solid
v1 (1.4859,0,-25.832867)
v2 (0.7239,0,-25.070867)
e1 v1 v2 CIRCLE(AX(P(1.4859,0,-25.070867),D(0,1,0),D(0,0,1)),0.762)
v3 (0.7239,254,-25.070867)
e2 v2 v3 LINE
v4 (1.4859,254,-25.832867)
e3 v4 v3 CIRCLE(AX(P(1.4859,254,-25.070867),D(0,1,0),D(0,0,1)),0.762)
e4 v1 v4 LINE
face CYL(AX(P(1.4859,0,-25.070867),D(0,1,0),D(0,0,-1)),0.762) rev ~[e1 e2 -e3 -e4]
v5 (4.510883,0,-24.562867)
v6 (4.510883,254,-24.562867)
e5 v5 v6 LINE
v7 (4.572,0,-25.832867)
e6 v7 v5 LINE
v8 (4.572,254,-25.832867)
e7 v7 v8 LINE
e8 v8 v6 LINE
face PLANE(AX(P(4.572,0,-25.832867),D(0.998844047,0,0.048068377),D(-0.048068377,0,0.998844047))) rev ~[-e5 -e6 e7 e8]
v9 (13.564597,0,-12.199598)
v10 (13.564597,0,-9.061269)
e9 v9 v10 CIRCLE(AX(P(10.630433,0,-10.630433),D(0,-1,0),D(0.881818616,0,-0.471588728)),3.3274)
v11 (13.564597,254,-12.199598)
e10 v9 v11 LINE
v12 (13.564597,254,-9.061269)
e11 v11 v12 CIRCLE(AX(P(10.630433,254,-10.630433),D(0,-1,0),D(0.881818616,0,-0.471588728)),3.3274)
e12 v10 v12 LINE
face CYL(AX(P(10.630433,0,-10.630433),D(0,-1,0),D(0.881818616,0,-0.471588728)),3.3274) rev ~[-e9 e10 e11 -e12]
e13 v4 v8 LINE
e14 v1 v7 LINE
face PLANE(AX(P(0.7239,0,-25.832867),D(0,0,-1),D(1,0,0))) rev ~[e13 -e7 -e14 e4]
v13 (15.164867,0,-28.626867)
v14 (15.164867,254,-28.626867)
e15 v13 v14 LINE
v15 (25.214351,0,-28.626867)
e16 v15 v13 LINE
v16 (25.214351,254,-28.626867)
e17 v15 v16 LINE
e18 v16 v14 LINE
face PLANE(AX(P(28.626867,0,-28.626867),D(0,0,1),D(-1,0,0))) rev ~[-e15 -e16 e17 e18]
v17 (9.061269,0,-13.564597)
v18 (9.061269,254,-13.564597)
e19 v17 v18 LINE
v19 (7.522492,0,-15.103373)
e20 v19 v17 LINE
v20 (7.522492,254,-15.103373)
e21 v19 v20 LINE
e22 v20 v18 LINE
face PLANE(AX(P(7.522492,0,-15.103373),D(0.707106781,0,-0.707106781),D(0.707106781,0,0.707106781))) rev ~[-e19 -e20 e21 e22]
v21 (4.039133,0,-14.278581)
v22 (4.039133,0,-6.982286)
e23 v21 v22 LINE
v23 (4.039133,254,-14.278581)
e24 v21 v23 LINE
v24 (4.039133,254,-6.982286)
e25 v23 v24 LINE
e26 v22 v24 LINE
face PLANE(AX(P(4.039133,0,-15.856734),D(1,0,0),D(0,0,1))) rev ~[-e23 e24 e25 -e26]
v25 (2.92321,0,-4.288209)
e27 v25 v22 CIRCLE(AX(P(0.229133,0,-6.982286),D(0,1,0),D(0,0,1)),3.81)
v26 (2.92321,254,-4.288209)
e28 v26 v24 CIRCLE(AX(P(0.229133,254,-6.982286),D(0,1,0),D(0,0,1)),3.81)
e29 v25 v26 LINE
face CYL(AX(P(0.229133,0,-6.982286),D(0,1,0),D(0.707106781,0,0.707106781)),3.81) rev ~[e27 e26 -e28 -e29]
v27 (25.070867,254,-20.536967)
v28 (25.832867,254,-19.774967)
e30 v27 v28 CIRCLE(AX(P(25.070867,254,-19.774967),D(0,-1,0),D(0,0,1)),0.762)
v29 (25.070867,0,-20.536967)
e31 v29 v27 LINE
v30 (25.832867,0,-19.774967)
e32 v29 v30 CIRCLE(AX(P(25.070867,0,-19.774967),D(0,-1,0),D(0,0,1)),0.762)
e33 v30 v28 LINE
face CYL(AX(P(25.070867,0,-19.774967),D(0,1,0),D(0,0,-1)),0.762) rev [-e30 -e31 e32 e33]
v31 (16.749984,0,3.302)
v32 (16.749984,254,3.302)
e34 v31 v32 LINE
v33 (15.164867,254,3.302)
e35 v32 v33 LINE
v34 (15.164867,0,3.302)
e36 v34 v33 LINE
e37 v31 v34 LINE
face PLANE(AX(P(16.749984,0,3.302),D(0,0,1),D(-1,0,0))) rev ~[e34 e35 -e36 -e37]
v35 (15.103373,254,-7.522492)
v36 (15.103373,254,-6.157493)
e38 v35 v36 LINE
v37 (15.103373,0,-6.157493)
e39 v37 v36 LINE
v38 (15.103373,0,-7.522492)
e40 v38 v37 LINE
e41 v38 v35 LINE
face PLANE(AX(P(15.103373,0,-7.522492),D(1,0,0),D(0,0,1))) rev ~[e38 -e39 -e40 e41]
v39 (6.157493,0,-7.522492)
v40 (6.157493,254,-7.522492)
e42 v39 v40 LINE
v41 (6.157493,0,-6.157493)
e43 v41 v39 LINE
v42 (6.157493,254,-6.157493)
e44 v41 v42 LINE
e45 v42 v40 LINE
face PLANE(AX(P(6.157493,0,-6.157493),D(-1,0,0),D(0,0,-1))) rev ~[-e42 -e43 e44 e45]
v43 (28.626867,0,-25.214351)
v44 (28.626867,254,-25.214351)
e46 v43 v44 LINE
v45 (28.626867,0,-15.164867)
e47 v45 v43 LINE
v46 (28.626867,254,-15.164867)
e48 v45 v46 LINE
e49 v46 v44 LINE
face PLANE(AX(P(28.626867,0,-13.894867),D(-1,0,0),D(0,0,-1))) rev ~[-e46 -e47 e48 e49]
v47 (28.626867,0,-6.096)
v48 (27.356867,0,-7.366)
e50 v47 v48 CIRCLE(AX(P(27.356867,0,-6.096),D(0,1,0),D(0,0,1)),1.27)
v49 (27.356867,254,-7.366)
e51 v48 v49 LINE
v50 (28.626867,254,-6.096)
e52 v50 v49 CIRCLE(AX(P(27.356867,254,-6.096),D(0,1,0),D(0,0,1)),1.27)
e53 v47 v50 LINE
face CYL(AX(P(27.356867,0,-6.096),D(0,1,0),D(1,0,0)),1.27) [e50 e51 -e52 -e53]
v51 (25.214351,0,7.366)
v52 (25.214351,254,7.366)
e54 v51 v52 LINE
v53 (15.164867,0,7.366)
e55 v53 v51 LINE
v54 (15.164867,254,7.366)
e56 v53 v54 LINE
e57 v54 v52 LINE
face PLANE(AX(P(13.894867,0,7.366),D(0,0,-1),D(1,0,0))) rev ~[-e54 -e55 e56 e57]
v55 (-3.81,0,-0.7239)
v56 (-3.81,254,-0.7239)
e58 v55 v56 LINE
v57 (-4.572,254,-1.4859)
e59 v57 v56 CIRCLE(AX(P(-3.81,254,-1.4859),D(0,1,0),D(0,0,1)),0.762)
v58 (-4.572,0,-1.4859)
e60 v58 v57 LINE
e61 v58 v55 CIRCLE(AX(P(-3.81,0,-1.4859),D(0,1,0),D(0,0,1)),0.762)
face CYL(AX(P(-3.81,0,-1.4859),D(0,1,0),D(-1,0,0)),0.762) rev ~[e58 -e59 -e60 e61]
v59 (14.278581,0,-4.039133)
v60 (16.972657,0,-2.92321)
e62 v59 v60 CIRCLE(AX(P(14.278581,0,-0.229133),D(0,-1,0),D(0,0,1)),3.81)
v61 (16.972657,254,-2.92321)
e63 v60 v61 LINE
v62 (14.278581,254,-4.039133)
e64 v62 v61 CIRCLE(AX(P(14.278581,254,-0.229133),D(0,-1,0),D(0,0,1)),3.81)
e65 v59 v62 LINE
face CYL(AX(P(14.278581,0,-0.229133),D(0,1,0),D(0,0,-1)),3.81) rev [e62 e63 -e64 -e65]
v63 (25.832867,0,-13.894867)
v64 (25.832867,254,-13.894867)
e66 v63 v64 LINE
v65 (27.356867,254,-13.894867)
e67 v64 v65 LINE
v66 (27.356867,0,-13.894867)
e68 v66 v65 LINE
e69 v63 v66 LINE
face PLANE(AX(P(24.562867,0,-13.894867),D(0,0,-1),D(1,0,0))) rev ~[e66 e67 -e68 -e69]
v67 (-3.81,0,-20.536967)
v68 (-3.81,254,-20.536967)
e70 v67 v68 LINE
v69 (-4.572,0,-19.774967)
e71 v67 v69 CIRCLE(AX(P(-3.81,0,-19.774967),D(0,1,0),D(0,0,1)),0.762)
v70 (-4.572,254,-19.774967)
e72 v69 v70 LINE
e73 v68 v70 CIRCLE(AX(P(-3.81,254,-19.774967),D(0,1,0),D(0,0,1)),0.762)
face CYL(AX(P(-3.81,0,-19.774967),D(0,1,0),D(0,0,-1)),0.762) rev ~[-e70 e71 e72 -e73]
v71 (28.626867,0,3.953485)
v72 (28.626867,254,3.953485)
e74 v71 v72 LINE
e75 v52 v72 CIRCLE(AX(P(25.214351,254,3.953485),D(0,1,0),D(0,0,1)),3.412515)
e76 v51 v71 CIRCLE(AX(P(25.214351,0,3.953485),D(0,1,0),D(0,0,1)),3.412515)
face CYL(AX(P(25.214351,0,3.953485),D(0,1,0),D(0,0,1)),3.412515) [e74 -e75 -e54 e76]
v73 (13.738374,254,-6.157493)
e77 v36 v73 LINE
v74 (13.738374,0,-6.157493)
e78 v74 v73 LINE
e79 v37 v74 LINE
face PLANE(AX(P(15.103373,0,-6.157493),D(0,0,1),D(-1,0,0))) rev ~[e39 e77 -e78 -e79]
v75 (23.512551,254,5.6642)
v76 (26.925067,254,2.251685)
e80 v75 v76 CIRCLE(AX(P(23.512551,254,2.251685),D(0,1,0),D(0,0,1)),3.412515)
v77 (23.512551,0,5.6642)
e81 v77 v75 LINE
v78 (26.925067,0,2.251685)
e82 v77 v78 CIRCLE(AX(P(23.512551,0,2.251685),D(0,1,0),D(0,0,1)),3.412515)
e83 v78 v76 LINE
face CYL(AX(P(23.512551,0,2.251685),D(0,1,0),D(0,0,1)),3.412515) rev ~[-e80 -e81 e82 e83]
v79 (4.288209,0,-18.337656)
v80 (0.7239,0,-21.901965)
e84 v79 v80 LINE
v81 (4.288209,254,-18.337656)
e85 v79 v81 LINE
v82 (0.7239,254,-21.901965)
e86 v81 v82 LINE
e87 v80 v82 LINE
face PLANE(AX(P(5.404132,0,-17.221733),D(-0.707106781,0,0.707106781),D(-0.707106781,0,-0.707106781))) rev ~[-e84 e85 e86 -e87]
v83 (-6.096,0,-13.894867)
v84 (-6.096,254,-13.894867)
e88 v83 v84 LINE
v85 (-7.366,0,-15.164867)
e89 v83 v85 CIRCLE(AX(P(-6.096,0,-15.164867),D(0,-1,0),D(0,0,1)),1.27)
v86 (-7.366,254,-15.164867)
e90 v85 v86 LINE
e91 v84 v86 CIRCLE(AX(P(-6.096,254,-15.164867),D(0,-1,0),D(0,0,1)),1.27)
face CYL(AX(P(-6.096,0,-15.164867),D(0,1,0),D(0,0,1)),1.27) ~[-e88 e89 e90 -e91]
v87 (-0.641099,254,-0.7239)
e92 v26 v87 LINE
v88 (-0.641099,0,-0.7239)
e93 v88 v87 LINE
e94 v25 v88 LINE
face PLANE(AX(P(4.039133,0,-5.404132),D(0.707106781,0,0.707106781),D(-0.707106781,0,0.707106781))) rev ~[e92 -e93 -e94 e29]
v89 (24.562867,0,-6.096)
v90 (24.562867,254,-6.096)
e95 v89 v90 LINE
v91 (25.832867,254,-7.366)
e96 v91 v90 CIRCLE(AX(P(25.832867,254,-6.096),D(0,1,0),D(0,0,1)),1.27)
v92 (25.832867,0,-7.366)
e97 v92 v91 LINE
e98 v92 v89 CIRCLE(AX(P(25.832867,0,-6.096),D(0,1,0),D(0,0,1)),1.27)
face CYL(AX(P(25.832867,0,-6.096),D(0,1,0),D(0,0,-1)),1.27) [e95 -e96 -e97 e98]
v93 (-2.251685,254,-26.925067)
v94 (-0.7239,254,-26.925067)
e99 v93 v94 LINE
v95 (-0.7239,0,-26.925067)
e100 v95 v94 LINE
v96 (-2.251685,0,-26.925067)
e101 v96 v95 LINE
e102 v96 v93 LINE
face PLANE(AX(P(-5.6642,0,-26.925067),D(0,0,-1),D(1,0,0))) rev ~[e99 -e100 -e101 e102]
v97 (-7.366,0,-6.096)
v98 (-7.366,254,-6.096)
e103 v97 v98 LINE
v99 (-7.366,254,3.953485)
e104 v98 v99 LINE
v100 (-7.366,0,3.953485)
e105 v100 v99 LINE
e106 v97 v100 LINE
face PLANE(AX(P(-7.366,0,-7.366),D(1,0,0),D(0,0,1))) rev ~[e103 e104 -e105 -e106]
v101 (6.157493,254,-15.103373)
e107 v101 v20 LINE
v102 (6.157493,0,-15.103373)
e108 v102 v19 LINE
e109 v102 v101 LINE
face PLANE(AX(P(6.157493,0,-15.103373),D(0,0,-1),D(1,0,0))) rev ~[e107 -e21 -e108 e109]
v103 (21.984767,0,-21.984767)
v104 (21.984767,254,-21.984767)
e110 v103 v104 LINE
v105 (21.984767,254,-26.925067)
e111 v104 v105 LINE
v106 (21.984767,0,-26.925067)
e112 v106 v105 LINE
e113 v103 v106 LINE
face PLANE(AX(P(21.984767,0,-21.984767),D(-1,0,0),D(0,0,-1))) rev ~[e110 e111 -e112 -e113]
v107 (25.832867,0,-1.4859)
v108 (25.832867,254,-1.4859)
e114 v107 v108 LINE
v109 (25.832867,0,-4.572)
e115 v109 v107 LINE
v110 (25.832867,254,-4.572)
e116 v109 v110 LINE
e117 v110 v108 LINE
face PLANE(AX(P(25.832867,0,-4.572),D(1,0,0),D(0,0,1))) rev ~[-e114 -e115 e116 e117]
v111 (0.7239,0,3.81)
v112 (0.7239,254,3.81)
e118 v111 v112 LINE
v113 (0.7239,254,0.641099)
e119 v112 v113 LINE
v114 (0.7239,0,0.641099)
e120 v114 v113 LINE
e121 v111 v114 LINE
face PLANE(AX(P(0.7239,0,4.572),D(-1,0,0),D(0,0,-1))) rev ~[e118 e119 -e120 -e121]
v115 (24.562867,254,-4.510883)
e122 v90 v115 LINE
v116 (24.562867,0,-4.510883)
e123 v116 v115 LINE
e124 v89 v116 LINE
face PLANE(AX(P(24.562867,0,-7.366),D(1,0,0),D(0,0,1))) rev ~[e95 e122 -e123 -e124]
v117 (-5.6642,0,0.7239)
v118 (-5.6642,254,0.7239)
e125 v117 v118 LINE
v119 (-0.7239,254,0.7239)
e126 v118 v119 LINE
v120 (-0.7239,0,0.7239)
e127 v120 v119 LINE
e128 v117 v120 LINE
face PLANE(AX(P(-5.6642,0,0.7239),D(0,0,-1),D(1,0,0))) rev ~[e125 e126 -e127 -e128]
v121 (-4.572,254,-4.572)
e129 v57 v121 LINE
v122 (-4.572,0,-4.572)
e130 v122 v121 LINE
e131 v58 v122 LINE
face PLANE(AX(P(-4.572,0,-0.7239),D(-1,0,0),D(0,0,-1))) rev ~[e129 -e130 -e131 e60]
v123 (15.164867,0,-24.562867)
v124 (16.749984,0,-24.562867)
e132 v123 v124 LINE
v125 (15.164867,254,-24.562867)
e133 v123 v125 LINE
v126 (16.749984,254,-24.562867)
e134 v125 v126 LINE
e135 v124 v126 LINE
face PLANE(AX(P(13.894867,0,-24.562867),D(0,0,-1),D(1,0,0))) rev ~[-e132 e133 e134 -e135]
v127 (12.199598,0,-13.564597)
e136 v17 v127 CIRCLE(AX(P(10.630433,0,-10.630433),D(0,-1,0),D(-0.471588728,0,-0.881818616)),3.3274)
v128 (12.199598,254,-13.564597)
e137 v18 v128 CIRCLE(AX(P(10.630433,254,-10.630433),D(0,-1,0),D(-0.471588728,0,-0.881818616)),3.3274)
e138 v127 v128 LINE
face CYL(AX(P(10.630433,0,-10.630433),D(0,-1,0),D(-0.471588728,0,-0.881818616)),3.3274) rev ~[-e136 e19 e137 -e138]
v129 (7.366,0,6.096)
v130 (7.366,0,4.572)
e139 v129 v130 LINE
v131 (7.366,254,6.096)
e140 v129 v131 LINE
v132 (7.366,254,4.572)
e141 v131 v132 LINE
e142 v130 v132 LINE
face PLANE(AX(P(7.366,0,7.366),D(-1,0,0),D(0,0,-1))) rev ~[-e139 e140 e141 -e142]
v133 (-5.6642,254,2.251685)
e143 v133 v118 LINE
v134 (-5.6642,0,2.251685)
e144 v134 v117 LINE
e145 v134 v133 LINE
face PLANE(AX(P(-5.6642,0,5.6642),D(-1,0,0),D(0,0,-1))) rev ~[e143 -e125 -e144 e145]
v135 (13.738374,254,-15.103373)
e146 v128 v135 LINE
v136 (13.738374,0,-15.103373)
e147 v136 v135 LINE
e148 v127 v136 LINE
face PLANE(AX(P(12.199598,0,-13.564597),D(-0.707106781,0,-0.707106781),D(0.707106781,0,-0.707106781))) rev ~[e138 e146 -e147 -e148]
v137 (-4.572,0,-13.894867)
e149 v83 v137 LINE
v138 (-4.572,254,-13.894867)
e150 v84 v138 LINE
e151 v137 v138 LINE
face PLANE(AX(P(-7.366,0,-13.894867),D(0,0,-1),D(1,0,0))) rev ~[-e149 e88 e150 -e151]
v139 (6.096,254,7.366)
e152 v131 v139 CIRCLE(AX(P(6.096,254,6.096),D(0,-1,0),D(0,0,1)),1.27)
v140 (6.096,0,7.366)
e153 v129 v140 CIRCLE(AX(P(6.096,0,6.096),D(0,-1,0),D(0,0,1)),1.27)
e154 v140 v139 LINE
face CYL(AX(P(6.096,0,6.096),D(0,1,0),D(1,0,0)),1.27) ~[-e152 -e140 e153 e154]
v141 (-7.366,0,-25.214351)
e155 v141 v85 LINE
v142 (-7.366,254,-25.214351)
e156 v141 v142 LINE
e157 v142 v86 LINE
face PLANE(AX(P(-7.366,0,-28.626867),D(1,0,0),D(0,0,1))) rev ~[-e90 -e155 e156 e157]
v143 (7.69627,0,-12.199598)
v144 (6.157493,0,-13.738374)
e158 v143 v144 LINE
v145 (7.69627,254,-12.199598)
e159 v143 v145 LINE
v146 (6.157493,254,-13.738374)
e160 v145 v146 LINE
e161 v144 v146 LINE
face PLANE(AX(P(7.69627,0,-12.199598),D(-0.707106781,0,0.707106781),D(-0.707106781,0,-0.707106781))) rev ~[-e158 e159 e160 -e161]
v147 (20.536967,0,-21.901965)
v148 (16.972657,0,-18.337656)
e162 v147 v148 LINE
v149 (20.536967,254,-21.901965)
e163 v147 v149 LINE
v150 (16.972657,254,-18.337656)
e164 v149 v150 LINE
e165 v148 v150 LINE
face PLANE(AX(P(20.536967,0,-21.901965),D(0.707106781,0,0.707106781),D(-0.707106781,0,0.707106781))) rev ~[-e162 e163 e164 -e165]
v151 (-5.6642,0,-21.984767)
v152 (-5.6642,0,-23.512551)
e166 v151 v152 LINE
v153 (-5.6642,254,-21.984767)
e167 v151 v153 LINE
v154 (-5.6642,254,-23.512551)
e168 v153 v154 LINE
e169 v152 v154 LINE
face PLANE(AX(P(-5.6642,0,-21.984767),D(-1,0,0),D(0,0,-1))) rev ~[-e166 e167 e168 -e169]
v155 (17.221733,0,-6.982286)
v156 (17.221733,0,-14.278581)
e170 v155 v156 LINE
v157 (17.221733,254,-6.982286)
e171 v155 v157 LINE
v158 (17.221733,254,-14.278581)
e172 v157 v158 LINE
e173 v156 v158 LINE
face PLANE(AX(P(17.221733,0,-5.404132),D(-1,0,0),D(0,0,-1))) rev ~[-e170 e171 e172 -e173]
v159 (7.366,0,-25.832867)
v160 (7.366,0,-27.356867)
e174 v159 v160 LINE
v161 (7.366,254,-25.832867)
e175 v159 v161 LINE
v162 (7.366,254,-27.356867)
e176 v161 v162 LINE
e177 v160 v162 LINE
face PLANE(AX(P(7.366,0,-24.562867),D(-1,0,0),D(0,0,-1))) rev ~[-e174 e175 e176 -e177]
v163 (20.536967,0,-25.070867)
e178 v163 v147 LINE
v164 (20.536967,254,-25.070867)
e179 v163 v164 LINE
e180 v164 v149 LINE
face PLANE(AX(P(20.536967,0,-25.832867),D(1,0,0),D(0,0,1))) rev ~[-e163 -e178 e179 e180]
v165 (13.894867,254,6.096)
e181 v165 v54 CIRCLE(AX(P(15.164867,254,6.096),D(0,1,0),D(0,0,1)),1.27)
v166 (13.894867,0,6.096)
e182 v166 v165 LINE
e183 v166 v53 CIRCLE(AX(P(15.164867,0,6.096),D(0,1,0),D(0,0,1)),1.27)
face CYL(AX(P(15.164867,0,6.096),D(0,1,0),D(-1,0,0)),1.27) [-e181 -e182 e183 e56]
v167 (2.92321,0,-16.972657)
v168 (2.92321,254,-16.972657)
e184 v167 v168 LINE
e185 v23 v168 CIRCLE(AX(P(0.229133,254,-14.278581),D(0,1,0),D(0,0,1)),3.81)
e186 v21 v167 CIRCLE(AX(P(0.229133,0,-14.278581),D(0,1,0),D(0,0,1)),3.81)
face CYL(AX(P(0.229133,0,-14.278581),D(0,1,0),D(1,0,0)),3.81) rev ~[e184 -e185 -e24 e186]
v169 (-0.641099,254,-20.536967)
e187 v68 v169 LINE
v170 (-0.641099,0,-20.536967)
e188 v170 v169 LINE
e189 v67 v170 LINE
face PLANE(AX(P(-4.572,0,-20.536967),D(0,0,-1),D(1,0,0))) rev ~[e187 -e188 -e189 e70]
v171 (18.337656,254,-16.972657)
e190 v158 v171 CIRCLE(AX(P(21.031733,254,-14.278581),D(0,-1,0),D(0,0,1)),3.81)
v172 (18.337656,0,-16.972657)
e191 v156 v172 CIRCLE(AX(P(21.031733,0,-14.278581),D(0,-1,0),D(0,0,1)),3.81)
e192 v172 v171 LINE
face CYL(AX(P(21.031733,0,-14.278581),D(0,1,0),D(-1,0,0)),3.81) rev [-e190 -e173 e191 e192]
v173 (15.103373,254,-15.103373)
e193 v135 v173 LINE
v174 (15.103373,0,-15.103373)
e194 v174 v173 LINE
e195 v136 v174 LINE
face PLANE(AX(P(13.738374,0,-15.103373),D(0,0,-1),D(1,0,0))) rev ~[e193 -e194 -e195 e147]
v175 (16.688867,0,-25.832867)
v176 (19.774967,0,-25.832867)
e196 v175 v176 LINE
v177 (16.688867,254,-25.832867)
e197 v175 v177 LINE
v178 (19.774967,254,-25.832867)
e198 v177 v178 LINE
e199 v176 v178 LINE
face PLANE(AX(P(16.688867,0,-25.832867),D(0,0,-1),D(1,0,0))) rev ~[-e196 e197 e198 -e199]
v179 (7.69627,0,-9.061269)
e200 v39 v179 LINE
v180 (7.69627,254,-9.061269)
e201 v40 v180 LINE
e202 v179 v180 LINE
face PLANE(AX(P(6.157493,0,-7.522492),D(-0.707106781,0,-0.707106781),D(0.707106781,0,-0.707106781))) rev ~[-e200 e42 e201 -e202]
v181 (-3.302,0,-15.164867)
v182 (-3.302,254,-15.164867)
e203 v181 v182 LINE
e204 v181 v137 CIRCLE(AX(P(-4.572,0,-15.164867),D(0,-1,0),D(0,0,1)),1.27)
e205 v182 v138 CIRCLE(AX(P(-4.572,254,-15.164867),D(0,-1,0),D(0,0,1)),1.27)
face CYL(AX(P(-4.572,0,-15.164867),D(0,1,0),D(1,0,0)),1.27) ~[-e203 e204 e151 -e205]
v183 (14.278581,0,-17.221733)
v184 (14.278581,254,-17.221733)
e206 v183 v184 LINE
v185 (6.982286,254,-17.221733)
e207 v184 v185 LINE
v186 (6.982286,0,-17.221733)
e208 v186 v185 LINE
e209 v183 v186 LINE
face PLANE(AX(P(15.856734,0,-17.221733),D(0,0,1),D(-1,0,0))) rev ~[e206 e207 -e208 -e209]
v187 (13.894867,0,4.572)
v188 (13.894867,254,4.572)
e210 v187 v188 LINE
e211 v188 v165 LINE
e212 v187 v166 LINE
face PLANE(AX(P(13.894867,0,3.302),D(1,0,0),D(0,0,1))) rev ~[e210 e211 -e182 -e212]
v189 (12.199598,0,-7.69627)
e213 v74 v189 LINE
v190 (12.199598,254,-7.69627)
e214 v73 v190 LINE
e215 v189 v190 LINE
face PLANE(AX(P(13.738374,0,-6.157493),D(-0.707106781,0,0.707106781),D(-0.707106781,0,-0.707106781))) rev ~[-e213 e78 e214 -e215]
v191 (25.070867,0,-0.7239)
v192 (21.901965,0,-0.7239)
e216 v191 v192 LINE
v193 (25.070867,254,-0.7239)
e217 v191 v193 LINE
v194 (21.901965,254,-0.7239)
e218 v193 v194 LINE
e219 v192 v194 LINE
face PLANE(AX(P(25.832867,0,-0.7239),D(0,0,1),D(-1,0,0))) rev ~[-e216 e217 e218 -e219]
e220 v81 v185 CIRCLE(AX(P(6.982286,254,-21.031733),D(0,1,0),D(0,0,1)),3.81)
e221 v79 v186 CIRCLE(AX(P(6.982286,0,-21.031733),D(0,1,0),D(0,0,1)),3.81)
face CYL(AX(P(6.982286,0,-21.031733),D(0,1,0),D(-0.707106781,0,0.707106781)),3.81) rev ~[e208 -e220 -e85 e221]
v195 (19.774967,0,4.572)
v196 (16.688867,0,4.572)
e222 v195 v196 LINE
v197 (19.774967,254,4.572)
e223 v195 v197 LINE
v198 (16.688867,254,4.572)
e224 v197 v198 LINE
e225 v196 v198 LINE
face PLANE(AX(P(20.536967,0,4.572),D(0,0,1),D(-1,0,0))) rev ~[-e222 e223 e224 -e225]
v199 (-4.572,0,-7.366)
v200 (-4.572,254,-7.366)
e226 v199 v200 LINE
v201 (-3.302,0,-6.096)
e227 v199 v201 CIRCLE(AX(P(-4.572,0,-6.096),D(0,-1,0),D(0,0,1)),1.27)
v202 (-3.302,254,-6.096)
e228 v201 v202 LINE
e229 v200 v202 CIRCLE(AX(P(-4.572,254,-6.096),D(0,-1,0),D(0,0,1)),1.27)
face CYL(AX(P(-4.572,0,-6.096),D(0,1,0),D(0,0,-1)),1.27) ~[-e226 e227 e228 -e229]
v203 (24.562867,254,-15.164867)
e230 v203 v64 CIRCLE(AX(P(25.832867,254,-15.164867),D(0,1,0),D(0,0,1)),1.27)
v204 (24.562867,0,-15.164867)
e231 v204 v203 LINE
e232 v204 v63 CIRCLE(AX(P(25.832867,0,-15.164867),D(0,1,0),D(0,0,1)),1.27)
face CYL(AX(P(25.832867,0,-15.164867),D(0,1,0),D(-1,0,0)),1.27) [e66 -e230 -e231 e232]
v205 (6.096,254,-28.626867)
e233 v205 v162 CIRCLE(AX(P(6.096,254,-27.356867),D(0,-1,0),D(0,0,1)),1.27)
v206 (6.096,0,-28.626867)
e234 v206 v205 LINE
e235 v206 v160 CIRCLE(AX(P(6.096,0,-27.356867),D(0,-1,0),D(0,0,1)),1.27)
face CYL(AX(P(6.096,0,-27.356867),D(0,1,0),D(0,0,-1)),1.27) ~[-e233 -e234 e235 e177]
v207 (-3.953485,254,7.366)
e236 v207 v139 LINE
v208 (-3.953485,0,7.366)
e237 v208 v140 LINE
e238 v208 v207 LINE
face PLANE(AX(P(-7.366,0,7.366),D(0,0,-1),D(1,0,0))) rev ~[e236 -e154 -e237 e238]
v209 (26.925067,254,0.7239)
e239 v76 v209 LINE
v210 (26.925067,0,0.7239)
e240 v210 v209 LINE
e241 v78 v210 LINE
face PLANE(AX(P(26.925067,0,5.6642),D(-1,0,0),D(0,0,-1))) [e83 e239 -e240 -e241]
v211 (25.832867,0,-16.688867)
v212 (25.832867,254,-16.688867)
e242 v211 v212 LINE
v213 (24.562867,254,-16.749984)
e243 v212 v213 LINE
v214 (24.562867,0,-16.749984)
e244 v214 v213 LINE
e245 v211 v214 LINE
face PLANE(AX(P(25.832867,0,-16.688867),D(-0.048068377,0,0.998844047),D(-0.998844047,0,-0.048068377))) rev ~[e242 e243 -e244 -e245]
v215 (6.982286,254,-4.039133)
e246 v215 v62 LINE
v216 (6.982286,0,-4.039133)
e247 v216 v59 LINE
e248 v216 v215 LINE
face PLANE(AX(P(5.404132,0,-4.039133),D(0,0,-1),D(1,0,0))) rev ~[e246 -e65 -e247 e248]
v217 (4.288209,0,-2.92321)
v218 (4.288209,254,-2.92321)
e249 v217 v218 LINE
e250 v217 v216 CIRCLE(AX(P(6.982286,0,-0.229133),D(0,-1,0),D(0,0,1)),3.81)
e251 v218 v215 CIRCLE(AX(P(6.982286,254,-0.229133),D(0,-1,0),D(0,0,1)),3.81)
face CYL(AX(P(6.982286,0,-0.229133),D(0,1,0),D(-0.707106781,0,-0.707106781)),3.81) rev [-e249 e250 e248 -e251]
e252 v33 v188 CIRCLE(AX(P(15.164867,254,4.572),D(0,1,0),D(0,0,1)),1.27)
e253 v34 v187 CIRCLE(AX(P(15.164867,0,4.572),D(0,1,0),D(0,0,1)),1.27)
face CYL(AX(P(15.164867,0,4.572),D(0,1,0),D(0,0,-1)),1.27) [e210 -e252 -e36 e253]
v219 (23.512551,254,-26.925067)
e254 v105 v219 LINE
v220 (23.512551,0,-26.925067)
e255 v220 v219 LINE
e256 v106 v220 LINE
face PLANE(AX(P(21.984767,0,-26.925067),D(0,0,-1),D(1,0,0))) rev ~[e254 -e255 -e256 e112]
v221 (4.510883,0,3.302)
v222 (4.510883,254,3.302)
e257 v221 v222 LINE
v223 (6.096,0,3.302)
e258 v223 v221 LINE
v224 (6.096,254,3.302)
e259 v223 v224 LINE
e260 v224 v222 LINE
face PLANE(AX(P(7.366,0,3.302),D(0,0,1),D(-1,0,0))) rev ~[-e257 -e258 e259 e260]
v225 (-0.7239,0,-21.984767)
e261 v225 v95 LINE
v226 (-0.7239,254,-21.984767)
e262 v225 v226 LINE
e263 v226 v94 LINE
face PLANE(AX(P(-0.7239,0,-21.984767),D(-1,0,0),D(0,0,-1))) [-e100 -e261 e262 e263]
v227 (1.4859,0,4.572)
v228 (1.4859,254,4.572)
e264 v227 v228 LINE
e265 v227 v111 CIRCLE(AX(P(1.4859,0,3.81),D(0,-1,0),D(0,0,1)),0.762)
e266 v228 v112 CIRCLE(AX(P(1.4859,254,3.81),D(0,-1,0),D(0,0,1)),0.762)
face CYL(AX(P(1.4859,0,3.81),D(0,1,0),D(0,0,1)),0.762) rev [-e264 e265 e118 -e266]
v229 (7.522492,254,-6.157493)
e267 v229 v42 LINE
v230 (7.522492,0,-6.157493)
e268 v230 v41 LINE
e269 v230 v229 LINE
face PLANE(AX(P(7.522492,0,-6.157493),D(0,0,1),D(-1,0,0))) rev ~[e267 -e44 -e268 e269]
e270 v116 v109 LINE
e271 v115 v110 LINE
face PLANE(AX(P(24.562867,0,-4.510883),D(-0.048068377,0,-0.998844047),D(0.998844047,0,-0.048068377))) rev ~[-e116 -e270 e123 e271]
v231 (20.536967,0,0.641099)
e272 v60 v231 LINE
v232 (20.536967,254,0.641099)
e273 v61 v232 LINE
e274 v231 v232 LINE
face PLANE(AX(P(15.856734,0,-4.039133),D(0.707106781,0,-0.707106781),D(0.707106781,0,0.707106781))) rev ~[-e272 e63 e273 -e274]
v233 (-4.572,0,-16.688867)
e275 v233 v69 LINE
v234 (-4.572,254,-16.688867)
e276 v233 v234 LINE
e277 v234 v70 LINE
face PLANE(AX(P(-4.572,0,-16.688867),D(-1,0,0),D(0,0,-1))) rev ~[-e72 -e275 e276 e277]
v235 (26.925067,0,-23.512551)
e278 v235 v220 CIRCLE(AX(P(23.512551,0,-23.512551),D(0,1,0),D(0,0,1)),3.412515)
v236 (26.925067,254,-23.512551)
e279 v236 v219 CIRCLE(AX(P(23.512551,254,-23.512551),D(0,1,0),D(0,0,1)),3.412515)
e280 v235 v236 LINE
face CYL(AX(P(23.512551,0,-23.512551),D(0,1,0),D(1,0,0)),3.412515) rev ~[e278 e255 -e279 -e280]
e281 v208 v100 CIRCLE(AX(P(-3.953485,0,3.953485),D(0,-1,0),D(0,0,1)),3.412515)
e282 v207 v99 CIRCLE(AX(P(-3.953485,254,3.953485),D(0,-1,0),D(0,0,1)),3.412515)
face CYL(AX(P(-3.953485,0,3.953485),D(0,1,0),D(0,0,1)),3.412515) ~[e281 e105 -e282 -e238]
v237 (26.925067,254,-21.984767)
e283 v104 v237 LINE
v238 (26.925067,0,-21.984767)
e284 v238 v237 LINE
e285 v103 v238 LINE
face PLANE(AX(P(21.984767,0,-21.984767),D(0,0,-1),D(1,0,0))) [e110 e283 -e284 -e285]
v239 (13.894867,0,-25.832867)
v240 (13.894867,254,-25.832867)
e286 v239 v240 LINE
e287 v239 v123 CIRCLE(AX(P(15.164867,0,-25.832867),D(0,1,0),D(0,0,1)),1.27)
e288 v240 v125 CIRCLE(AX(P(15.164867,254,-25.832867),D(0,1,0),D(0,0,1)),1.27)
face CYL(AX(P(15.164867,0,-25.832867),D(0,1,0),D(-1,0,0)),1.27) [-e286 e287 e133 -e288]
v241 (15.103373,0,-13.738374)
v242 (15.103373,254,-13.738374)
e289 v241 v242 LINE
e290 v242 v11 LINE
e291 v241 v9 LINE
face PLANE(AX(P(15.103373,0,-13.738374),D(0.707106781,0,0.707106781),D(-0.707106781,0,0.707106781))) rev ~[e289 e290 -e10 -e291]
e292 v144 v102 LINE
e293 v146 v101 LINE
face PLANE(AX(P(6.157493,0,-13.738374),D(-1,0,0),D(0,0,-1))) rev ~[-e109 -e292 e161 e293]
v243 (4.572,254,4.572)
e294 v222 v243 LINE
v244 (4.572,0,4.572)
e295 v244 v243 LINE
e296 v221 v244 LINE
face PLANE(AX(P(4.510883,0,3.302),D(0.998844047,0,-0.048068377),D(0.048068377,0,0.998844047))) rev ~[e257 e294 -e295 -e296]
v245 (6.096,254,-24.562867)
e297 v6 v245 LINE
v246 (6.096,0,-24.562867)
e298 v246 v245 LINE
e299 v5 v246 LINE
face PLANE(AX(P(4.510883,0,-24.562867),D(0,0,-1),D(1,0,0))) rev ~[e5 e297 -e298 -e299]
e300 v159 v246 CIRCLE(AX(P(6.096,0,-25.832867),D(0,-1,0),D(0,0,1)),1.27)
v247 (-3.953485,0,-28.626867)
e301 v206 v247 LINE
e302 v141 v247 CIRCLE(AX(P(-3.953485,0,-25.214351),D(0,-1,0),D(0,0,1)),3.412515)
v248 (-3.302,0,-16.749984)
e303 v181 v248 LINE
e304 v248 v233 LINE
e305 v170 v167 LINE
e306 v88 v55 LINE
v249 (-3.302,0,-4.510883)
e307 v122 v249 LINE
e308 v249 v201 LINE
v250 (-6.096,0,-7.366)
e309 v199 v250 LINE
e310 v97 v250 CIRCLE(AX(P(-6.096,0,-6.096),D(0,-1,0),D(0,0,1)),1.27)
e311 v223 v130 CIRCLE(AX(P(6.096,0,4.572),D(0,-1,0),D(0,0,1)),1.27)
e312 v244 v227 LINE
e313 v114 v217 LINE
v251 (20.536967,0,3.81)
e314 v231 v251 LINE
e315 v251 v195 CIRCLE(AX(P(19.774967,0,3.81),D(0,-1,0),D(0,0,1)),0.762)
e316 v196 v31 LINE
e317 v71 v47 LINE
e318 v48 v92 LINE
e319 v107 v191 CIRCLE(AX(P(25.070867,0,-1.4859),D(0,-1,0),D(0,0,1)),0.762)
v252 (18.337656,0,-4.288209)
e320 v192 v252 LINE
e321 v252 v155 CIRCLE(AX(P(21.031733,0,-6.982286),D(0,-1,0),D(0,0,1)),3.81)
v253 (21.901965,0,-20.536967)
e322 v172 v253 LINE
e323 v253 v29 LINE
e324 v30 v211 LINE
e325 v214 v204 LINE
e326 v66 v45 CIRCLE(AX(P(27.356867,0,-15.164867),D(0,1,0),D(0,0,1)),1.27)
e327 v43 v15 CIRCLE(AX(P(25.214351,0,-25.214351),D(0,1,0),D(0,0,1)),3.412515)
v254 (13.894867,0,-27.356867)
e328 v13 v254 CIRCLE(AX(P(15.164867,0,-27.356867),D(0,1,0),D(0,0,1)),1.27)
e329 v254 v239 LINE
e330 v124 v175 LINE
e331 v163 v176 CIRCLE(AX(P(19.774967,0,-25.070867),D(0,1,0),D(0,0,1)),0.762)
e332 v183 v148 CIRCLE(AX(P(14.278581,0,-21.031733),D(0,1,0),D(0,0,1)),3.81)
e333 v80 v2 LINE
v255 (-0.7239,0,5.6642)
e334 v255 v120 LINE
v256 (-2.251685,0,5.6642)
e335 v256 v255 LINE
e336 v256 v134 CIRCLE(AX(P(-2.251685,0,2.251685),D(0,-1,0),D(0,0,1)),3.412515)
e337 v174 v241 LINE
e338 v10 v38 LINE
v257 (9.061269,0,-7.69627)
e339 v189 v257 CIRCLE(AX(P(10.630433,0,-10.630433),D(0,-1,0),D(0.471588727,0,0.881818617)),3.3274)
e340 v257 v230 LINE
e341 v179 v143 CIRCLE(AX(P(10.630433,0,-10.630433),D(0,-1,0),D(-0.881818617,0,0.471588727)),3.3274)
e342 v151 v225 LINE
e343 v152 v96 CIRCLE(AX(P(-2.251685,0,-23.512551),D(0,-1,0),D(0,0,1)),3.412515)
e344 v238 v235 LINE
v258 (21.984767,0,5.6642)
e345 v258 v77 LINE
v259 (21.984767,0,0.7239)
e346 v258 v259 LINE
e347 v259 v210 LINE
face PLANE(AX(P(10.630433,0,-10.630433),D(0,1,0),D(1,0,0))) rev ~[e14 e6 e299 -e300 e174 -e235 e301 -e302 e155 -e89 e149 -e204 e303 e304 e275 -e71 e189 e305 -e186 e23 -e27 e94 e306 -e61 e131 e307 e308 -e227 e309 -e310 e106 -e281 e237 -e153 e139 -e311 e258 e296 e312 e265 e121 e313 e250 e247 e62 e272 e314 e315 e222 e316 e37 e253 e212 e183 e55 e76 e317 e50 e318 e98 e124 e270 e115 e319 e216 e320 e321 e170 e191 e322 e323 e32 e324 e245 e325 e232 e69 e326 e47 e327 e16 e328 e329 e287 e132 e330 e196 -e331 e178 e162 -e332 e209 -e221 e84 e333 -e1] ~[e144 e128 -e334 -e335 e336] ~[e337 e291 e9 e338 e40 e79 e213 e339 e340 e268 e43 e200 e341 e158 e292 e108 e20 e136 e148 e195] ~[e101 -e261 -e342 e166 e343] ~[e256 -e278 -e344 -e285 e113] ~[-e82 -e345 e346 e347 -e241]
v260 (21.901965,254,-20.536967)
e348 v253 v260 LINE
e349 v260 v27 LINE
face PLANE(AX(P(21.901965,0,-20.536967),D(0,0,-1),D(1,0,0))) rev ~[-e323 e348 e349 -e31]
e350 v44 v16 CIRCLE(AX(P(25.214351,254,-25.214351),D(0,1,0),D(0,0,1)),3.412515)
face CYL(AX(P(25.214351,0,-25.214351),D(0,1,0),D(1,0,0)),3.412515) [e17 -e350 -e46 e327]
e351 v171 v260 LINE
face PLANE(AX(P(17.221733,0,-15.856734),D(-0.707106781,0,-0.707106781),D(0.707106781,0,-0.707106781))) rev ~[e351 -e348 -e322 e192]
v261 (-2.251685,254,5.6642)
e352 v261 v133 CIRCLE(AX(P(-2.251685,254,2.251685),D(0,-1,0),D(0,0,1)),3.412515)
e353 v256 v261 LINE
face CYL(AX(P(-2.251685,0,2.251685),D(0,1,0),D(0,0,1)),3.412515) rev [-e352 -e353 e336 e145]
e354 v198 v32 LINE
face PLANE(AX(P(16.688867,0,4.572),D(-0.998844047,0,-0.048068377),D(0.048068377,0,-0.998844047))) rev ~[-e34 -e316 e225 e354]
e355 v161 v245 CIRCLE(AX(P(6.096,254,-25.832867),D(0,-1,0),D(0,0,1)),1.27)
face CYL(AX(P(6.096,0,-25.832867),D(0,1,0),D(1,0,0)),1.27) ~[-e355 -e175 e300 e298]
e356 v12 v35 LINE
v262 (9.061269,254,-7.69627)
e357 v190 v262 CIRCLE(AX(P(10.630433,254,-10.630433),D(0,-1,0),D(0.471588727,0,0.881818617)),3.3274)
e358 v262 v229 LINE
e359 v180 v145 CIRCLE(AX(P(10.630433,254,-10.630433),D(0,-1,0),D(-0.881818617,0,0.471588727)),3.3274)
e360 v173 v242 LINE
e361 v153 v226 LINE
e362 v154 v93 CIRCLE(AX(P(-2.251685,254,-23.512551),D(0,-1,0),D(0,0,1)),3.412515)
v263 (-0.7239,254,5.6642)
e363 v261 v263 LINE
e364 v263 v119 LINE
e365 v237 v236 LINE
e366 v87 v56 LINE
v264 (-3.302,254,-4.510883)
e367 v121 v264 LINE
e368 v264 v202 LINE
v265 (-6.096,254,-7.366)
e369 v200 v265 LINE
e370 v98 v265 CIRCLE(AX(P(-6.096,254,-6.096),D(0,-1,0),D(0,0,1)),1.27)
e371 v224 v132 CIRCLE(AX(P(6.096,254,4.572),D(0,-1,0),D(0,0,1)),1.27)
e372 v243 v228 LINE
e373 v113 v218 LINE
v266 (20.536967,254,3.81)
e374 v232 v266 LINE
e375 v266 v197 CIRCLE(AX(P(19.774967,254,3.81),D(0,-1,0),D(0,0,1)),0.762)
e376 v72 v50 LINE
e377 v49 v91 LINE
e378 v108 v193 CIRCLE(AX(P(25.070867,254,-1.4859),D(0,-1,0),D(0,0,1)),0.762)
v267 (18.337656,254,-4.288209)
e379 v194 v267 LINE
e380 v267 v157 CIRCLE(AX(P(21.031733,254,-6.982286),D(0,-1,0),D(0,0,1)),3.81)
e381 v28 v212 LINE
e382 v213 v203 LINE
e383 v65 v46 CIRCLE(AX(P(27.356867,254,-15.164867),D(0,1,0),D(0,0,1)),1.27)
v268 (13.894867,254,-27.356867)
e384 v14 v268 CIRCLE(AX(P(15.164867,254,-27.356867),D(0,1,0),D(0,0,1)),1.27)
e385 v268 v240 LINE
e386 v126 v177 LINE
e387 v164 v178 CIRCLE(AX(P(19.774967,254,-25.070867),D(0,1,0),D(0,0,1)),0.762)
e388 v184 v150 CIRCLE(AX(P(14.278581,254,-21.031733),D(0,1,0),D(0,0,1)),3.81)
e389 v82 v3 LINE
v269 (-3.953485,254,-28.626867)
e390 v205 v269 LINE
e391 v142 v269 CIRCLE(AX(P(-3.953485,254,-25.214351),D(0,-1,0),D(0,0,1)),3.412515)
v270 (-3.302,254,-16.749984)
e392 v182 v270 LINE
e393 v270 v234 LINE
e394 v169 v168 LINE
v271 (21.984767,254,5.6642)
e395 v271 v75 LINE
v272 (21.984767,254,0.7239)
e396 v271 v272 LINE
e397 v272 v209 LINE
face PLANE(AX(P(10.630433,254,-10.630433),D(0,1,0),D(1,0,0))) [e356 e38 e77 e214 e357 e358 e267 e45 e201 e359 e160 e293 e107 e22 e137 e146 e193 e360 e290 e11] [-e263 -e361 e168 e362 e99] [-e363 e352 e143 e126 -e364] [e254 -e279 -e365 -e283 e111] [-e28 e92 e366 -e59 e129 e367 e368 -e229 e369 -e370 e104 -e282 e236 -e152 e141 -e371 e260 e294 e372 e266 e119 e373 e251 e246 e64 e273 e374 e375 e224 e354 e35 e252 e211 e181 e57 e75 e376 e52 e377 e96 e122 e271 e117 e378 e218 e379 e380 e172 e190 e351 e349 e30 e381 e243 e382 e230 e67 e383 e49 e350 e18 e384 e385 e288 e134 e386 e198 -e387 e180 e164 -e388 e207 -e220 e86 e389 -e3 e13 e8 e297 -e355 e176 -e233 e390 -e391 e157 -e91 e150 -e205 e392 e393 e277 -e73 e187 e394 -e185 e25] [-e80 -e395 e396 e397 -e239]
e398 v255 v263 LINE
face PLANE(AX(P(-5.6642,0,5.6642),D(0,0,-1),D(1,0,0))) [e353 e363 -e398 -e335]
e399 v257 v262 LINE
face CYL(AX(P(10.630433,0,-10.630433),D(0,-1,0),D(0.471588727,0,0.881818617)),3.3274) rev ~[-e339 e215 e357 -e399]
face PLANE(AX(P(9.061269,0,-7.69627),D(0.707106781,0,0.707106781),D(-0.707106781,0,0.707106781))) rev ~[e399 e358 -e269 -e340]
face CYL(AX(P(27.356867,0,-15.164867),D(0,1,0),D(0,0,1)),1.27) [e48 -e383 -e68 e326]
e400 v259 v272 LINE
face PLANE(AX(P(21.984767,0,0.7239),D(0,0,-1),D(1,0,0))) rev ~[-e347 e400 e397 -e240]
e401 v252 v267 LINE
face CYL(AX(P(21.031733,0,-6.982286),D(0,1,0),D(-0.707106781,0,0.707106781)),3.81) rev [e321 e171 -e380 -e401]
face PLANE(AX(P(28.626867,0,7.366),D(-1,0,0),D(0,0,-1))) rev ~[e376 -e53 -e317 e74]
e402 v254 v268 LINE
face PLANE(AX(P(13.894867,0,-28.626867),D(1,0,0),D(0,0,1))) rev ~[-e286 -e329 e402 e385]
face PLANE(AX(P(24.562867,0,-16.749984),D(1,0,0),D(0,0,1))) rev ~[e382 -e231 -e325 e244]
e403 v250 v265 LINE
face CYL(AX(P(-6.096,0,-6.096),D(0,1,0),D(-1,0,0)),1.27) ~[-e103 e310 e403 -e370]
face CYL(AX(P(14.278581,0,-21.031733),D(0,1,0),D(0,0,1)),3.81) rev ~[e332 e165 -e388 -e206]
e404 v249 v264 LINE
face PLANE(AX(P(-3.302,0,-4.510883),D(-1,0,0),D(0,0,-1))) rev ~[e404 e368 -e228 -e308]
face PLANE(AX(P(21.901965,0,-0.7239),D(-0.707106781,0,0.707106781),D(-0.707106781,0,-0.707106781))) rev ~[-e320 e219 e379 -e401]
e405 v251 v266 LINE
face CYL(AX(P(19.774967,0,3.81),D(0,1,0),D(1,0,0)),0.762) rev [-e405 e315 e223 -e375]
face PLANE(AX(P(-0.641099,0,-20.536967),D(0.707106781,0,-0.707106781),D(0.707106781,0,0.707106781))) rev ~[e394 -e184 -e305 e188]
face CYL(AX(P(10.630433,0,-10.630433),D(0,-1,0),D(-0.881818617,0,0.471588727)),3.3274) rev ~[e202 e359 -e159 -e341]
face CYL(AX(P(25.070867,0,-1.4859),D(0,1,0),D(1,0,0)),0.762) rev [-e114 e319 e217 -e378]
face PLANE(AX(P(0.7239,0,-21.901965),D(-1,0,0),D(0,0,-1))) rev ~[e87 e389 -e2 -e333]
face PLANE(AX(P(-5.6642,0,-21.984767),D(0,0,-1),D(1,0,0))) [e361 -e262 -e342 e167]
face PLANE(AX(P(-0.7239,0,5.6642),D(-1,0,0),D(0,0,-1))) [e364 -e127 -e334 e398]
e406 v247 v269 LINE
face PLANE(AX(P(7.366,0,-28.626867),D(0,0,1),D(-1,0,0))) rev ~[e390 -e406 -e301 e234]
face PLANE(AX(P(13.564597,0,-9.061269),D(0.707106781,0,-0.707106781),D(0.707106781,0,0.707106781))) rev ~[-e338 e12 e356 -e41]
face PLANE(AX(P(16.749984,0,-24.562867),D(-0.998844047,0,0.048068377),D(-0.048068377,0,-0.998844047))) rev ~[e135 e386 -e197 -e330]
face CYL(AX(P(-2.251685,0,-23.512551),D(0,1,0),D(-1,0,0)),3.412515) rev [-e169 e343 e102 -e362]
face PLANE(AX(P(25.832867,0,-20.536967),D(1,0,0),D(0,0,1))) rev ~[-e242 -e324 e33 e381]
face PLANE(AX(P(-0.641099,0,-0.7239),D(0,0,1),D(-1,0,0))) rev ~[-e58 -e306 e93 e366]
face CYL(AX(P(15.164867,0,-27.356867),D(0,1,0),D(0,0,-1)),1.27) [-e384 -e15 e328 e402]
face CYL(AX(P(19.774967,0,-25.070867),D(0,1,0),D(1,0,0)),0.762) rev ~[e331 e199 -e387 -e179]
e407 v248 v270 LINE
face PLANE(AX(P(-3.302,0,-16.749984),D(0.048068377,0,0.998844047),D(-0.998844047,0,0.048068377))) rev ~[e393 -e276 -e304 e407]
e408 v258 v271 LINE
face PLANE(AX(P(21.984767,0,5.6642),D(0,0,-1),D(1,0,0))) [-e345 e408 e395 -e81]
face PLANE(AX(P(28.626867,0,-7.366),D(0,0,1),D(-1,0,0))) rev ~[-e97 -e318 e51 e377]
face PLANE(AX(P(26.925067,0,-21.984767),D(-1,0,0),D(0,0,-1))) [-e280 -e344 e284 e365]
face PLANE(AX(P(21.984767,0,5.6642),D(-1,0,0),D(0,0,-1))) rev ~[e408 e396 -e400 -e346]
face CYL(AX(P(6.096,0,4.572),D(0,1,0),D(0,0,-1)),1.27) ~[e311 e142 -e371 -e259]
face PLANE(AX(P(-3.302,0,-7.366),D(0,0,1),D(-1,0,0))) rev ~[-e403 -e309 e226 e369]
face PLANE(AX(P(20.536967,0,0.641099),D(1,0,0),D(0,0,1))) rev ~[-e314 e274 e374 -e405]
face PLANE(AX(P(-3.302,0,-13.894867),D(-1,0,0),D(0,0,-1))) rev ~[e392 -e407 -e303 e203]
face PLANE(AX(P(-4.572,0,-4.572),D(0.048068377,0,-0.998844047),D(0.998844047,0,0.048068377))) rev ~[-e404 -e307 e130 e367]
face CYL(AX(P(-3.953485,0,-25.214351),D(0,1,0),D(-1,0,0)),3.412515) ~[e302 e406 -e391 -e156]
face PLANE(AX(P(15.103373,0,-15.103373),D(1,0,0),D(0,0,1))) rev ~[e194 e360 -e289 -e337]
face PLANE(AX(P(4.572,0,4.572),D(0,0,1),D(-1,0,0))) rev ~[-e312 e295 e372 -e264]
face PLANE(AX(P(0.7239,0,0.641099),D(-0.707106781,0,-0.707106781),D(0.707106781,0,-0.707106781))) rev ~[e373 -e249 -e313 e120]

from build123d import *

# Parameters (mm, degrees)
SKETCH1_W           = 4.9403
SKETCH1_H           = 4.9403
BOSS_EXTRUDE6_DEPTH = 254
FILLET1_R           = 3.4125154
FILLET2_R           = 0.762
FILLET3_R           = 1.27
FILLET4_R           = 3.81


with BuildPart() as part:
    # Sketch1 → Boss-Extrude6 (new body)
    with BuildSketch(Plane(origin=(0, 0, 0), x_dir=(1, 0, 0), z_dir=(0, 1, 0))):
        Polygon((-7.366, -7.366), (7.366, -7.366), (7.366, -3.302), (4.510882512, -3.302), (4.572, -4.572), (0.7239, -4.572), (0.7239, -0.64109893), (5.404132197, 4.039133267), (15.856734336, 4.039133267), (20.536966533, -0.64109893), (20.536966533, -4.572), (16.688866533, -4.572), (16.749984021, -3.302), (13.894866533, -3.302), (13.894866533, -7.366), (28.626866533, -7.366), (28.626866533, 7.366), (24.562866533, 7.366), (24.562866533, 4.510882512), (25.832866533, 4.572), (25.832866533, 0.7239), (21.901965464, 0.7239), (17.221733267, 5.404132197), (17.221733267, 15.856734336), (21.901965464, 20.536966533), (25.832866533, 20.536966533), (25.832866533, 16.688866533), (24.562866533, 16.749984021), (24.562866533, 13.894866533), (28.626866533, 13.894866533), (28.626866533, 28.626866533), (13.894866533, 28.626866533), (13.894866533, 24.562866533), (16.749984021, 24.562866533), (16.688866533, 25.832866533), (20.536966533, 25.832866533), (20.536966533, 21.901965464), (15.856734336, 17.221733267), (5.404132197, 17.221733267), (0.7239, 21.901965464), (0.7239, 25.832866533), (4.572, 25.832866533), (4.510882512, 24.562866533), (7.366, 24.562866533), (7.366, 28.626866533), (-7.366, 28.626866533), (-7.366, 13.894866533), (-3.302, 13.894866533), (-3.302, 16.749984021), (-4.572, 16.688866533), (-4.572, 20.536966533), (-0.64109893, 20.536966533), (4.039133267, 15.856734336), (4.039133267, 5.404132197), (-0.64109893, 0.7239), (-4.572, 0.7239), (-4.572, 4.572), (-3.302, 4.510882512), (-3.302, 7.366), (-7.366, 7.366), align=None)
        with Locations((-3.19405, -3.19405)):
            Rectangle(SKETCH1_W, SKETCH1_H, mode=Mode.SUBTRACT)
        with Locations((-3.19405, 24.454916533)):
            Rectangle(SKETCH1_W, SKETCH1_H, mode=Mode.SUBTRACT)
        with Locations((24.454916533, 24.454916533)):
            Rectangle(SKETCH1_W, SKETCH1_H, mode=Mode.SUBTRACT)
        with Locations((24.454916533, -3.19405)):
            Rectangle(SKETCH1_W, SKETCH1_H, mode=Mode.SUBTRACT)
        with BuildLine():
            Line((7.696270003, 12.1995976), (6.157493267, 13.738374336))
            Line((6.157493267, 13.738374336), (6.157493267, 15.103373267))
            Line((6.157493267, 15.103373267), (7.522492197, 15.103373267))
            Line((7.522492197, 15.103373267), (9.061268934, 13.56459653))
            ThreePointArc((9.061268934, 13.56459653), (10.630433267, 13.957833267), (12.1995976, 13.56459653))
            Line((12.1995976, 13.56459653), (13.738374336, 15.103373267))
            Line((13.738374336, 15.103373267), (15.103373267, 15.103373267))
            Line((15.103373267, 15.103373267), (15.103373267, 13.738374336))
            Line((15.103373267, 13.738374336), (13.56459653, 12.1995976))
            ThreePointArc((13.56459653, 12.1995976), (13.957833267, 10.630433267), (13.56459653, 9.061268934))
            Line((13.56459653, 9.061268934), (15.103373267, 7.522492197))
            Line((15.103373267, 7.522492197), (15.103373267, 6.157493267))
            Line((15.103373267, 6.157493267), (13.738374336, 6.157493267))
            Line((13.738374336, 6.157493267), (12.1995976, 7.696270003))
            ThreePointArc((12.1995976, 7.696270003), (10.630433267, 7.303033267), (9.061268934, 7.696270003))
            Line((9.061268934, 7.696270003), (7.522492197, 6.157493267))
            Line((7.522492197, 6.157493267), (6.157493267, 6.157493267))
            Line((6.157493267, 6.157493267), (6.157493267, 7.522492197))
            Line((6.157493267, 7.522492197), (7.696270003, 9.061268934))
            ThreePointArc((7.696270003, 9.061268934), (7.303033267, 10.630433267), (7.696270003, 12.1995976))
        make_face(mode=Mode.SUBTRACT)
    extrude(amount=BOSS_EXTRUDE6_DEPTH)

    # Fillet1
    fillet1_edges = [part.edges().sort_by_distance(p)[0] for p in [
        (-7.366, 127, 7.366),
        (-7.366, 127, -28.626866533),
        (28.626866533, 127, -28.626866533),
        (28.626866533, 127, 7.366),
        (26.925066533, 127, 5.6642),
        (26.925066533, 127, -26.925066533),
        (-5.6642, 127, -26.925066533),
        (-5.6642, 127, 5.6642),
    ]]
    fillet(fillet1_edges, radius=FILLET1_R)

    # Fillet2
    fillet2_edges = [part.edges().sort_by_distance(p)[0] for p in [
        (0.7239, 127, 4.572),
        (-4.572, 127, -0.7239),
        (-4.572, 127, -20.536966533),
        (0.7239, 127, -25.832866533),
        (20.536966533, 127, -25.832866533),
        (25.832866533, 127, -20.536966533),
        (25.832866533, 127, -0.7239),
        (20.536966533, 127, 4.572),
    ]]
    fillet(fillet2_edges, radius=FILLET2_R)

    # Fillet3
    fillet3_edges = [part.edges().sort_by_distance(p)[0] for p in [
        (7.366, 127, 3.302),
        (7.366, 127, 7.366),
        (-7.366, 127, -7.366),
        (-3.302, 127, -7.366),
        (-3.302, 127, -13.894866533),
        (-7.366, 127, -13.894866533),
        (7.366, 127, -28.626866533),
        (7.366, 127, -24.562866533),
        (13.894866533, 127, -24.562866533),
        (13.894866533, 127, -28.626866533),
        (28.626866533, 127, -13.894866533),
        (24.562866533, 127, -13.894866533),
        (24.562866533, 127, -7.366),
        (28.626866533, 127, -7.366),
        (13.894866533, 127, 7.366),
        (13.894866533, 127, 3.302),
    ]]
    fillet(fillet3_edges, radius=FILLET3_R)

    # Fillet4
    fillet4_edges = [part.edges().sort_by_distance(p)[0] for p in [
        (4.039133267, 127, -5.404132197),
        (4.039133267, 127, -15.856734336),
        (5.404132197, 127, -17.221733267),
        (15.856734336, 127, -17.221733267),
        (17.221733267, 127, -15.856734336),
        (17.221733267, 127, -5.404132197),
        (15.856734336, 127, -4.039133267),
        (5.404132197, 127, -4.039133267),
    ]]
    fillet(fillet4_edges, radius=FILLET4_R)


solid = part.part
